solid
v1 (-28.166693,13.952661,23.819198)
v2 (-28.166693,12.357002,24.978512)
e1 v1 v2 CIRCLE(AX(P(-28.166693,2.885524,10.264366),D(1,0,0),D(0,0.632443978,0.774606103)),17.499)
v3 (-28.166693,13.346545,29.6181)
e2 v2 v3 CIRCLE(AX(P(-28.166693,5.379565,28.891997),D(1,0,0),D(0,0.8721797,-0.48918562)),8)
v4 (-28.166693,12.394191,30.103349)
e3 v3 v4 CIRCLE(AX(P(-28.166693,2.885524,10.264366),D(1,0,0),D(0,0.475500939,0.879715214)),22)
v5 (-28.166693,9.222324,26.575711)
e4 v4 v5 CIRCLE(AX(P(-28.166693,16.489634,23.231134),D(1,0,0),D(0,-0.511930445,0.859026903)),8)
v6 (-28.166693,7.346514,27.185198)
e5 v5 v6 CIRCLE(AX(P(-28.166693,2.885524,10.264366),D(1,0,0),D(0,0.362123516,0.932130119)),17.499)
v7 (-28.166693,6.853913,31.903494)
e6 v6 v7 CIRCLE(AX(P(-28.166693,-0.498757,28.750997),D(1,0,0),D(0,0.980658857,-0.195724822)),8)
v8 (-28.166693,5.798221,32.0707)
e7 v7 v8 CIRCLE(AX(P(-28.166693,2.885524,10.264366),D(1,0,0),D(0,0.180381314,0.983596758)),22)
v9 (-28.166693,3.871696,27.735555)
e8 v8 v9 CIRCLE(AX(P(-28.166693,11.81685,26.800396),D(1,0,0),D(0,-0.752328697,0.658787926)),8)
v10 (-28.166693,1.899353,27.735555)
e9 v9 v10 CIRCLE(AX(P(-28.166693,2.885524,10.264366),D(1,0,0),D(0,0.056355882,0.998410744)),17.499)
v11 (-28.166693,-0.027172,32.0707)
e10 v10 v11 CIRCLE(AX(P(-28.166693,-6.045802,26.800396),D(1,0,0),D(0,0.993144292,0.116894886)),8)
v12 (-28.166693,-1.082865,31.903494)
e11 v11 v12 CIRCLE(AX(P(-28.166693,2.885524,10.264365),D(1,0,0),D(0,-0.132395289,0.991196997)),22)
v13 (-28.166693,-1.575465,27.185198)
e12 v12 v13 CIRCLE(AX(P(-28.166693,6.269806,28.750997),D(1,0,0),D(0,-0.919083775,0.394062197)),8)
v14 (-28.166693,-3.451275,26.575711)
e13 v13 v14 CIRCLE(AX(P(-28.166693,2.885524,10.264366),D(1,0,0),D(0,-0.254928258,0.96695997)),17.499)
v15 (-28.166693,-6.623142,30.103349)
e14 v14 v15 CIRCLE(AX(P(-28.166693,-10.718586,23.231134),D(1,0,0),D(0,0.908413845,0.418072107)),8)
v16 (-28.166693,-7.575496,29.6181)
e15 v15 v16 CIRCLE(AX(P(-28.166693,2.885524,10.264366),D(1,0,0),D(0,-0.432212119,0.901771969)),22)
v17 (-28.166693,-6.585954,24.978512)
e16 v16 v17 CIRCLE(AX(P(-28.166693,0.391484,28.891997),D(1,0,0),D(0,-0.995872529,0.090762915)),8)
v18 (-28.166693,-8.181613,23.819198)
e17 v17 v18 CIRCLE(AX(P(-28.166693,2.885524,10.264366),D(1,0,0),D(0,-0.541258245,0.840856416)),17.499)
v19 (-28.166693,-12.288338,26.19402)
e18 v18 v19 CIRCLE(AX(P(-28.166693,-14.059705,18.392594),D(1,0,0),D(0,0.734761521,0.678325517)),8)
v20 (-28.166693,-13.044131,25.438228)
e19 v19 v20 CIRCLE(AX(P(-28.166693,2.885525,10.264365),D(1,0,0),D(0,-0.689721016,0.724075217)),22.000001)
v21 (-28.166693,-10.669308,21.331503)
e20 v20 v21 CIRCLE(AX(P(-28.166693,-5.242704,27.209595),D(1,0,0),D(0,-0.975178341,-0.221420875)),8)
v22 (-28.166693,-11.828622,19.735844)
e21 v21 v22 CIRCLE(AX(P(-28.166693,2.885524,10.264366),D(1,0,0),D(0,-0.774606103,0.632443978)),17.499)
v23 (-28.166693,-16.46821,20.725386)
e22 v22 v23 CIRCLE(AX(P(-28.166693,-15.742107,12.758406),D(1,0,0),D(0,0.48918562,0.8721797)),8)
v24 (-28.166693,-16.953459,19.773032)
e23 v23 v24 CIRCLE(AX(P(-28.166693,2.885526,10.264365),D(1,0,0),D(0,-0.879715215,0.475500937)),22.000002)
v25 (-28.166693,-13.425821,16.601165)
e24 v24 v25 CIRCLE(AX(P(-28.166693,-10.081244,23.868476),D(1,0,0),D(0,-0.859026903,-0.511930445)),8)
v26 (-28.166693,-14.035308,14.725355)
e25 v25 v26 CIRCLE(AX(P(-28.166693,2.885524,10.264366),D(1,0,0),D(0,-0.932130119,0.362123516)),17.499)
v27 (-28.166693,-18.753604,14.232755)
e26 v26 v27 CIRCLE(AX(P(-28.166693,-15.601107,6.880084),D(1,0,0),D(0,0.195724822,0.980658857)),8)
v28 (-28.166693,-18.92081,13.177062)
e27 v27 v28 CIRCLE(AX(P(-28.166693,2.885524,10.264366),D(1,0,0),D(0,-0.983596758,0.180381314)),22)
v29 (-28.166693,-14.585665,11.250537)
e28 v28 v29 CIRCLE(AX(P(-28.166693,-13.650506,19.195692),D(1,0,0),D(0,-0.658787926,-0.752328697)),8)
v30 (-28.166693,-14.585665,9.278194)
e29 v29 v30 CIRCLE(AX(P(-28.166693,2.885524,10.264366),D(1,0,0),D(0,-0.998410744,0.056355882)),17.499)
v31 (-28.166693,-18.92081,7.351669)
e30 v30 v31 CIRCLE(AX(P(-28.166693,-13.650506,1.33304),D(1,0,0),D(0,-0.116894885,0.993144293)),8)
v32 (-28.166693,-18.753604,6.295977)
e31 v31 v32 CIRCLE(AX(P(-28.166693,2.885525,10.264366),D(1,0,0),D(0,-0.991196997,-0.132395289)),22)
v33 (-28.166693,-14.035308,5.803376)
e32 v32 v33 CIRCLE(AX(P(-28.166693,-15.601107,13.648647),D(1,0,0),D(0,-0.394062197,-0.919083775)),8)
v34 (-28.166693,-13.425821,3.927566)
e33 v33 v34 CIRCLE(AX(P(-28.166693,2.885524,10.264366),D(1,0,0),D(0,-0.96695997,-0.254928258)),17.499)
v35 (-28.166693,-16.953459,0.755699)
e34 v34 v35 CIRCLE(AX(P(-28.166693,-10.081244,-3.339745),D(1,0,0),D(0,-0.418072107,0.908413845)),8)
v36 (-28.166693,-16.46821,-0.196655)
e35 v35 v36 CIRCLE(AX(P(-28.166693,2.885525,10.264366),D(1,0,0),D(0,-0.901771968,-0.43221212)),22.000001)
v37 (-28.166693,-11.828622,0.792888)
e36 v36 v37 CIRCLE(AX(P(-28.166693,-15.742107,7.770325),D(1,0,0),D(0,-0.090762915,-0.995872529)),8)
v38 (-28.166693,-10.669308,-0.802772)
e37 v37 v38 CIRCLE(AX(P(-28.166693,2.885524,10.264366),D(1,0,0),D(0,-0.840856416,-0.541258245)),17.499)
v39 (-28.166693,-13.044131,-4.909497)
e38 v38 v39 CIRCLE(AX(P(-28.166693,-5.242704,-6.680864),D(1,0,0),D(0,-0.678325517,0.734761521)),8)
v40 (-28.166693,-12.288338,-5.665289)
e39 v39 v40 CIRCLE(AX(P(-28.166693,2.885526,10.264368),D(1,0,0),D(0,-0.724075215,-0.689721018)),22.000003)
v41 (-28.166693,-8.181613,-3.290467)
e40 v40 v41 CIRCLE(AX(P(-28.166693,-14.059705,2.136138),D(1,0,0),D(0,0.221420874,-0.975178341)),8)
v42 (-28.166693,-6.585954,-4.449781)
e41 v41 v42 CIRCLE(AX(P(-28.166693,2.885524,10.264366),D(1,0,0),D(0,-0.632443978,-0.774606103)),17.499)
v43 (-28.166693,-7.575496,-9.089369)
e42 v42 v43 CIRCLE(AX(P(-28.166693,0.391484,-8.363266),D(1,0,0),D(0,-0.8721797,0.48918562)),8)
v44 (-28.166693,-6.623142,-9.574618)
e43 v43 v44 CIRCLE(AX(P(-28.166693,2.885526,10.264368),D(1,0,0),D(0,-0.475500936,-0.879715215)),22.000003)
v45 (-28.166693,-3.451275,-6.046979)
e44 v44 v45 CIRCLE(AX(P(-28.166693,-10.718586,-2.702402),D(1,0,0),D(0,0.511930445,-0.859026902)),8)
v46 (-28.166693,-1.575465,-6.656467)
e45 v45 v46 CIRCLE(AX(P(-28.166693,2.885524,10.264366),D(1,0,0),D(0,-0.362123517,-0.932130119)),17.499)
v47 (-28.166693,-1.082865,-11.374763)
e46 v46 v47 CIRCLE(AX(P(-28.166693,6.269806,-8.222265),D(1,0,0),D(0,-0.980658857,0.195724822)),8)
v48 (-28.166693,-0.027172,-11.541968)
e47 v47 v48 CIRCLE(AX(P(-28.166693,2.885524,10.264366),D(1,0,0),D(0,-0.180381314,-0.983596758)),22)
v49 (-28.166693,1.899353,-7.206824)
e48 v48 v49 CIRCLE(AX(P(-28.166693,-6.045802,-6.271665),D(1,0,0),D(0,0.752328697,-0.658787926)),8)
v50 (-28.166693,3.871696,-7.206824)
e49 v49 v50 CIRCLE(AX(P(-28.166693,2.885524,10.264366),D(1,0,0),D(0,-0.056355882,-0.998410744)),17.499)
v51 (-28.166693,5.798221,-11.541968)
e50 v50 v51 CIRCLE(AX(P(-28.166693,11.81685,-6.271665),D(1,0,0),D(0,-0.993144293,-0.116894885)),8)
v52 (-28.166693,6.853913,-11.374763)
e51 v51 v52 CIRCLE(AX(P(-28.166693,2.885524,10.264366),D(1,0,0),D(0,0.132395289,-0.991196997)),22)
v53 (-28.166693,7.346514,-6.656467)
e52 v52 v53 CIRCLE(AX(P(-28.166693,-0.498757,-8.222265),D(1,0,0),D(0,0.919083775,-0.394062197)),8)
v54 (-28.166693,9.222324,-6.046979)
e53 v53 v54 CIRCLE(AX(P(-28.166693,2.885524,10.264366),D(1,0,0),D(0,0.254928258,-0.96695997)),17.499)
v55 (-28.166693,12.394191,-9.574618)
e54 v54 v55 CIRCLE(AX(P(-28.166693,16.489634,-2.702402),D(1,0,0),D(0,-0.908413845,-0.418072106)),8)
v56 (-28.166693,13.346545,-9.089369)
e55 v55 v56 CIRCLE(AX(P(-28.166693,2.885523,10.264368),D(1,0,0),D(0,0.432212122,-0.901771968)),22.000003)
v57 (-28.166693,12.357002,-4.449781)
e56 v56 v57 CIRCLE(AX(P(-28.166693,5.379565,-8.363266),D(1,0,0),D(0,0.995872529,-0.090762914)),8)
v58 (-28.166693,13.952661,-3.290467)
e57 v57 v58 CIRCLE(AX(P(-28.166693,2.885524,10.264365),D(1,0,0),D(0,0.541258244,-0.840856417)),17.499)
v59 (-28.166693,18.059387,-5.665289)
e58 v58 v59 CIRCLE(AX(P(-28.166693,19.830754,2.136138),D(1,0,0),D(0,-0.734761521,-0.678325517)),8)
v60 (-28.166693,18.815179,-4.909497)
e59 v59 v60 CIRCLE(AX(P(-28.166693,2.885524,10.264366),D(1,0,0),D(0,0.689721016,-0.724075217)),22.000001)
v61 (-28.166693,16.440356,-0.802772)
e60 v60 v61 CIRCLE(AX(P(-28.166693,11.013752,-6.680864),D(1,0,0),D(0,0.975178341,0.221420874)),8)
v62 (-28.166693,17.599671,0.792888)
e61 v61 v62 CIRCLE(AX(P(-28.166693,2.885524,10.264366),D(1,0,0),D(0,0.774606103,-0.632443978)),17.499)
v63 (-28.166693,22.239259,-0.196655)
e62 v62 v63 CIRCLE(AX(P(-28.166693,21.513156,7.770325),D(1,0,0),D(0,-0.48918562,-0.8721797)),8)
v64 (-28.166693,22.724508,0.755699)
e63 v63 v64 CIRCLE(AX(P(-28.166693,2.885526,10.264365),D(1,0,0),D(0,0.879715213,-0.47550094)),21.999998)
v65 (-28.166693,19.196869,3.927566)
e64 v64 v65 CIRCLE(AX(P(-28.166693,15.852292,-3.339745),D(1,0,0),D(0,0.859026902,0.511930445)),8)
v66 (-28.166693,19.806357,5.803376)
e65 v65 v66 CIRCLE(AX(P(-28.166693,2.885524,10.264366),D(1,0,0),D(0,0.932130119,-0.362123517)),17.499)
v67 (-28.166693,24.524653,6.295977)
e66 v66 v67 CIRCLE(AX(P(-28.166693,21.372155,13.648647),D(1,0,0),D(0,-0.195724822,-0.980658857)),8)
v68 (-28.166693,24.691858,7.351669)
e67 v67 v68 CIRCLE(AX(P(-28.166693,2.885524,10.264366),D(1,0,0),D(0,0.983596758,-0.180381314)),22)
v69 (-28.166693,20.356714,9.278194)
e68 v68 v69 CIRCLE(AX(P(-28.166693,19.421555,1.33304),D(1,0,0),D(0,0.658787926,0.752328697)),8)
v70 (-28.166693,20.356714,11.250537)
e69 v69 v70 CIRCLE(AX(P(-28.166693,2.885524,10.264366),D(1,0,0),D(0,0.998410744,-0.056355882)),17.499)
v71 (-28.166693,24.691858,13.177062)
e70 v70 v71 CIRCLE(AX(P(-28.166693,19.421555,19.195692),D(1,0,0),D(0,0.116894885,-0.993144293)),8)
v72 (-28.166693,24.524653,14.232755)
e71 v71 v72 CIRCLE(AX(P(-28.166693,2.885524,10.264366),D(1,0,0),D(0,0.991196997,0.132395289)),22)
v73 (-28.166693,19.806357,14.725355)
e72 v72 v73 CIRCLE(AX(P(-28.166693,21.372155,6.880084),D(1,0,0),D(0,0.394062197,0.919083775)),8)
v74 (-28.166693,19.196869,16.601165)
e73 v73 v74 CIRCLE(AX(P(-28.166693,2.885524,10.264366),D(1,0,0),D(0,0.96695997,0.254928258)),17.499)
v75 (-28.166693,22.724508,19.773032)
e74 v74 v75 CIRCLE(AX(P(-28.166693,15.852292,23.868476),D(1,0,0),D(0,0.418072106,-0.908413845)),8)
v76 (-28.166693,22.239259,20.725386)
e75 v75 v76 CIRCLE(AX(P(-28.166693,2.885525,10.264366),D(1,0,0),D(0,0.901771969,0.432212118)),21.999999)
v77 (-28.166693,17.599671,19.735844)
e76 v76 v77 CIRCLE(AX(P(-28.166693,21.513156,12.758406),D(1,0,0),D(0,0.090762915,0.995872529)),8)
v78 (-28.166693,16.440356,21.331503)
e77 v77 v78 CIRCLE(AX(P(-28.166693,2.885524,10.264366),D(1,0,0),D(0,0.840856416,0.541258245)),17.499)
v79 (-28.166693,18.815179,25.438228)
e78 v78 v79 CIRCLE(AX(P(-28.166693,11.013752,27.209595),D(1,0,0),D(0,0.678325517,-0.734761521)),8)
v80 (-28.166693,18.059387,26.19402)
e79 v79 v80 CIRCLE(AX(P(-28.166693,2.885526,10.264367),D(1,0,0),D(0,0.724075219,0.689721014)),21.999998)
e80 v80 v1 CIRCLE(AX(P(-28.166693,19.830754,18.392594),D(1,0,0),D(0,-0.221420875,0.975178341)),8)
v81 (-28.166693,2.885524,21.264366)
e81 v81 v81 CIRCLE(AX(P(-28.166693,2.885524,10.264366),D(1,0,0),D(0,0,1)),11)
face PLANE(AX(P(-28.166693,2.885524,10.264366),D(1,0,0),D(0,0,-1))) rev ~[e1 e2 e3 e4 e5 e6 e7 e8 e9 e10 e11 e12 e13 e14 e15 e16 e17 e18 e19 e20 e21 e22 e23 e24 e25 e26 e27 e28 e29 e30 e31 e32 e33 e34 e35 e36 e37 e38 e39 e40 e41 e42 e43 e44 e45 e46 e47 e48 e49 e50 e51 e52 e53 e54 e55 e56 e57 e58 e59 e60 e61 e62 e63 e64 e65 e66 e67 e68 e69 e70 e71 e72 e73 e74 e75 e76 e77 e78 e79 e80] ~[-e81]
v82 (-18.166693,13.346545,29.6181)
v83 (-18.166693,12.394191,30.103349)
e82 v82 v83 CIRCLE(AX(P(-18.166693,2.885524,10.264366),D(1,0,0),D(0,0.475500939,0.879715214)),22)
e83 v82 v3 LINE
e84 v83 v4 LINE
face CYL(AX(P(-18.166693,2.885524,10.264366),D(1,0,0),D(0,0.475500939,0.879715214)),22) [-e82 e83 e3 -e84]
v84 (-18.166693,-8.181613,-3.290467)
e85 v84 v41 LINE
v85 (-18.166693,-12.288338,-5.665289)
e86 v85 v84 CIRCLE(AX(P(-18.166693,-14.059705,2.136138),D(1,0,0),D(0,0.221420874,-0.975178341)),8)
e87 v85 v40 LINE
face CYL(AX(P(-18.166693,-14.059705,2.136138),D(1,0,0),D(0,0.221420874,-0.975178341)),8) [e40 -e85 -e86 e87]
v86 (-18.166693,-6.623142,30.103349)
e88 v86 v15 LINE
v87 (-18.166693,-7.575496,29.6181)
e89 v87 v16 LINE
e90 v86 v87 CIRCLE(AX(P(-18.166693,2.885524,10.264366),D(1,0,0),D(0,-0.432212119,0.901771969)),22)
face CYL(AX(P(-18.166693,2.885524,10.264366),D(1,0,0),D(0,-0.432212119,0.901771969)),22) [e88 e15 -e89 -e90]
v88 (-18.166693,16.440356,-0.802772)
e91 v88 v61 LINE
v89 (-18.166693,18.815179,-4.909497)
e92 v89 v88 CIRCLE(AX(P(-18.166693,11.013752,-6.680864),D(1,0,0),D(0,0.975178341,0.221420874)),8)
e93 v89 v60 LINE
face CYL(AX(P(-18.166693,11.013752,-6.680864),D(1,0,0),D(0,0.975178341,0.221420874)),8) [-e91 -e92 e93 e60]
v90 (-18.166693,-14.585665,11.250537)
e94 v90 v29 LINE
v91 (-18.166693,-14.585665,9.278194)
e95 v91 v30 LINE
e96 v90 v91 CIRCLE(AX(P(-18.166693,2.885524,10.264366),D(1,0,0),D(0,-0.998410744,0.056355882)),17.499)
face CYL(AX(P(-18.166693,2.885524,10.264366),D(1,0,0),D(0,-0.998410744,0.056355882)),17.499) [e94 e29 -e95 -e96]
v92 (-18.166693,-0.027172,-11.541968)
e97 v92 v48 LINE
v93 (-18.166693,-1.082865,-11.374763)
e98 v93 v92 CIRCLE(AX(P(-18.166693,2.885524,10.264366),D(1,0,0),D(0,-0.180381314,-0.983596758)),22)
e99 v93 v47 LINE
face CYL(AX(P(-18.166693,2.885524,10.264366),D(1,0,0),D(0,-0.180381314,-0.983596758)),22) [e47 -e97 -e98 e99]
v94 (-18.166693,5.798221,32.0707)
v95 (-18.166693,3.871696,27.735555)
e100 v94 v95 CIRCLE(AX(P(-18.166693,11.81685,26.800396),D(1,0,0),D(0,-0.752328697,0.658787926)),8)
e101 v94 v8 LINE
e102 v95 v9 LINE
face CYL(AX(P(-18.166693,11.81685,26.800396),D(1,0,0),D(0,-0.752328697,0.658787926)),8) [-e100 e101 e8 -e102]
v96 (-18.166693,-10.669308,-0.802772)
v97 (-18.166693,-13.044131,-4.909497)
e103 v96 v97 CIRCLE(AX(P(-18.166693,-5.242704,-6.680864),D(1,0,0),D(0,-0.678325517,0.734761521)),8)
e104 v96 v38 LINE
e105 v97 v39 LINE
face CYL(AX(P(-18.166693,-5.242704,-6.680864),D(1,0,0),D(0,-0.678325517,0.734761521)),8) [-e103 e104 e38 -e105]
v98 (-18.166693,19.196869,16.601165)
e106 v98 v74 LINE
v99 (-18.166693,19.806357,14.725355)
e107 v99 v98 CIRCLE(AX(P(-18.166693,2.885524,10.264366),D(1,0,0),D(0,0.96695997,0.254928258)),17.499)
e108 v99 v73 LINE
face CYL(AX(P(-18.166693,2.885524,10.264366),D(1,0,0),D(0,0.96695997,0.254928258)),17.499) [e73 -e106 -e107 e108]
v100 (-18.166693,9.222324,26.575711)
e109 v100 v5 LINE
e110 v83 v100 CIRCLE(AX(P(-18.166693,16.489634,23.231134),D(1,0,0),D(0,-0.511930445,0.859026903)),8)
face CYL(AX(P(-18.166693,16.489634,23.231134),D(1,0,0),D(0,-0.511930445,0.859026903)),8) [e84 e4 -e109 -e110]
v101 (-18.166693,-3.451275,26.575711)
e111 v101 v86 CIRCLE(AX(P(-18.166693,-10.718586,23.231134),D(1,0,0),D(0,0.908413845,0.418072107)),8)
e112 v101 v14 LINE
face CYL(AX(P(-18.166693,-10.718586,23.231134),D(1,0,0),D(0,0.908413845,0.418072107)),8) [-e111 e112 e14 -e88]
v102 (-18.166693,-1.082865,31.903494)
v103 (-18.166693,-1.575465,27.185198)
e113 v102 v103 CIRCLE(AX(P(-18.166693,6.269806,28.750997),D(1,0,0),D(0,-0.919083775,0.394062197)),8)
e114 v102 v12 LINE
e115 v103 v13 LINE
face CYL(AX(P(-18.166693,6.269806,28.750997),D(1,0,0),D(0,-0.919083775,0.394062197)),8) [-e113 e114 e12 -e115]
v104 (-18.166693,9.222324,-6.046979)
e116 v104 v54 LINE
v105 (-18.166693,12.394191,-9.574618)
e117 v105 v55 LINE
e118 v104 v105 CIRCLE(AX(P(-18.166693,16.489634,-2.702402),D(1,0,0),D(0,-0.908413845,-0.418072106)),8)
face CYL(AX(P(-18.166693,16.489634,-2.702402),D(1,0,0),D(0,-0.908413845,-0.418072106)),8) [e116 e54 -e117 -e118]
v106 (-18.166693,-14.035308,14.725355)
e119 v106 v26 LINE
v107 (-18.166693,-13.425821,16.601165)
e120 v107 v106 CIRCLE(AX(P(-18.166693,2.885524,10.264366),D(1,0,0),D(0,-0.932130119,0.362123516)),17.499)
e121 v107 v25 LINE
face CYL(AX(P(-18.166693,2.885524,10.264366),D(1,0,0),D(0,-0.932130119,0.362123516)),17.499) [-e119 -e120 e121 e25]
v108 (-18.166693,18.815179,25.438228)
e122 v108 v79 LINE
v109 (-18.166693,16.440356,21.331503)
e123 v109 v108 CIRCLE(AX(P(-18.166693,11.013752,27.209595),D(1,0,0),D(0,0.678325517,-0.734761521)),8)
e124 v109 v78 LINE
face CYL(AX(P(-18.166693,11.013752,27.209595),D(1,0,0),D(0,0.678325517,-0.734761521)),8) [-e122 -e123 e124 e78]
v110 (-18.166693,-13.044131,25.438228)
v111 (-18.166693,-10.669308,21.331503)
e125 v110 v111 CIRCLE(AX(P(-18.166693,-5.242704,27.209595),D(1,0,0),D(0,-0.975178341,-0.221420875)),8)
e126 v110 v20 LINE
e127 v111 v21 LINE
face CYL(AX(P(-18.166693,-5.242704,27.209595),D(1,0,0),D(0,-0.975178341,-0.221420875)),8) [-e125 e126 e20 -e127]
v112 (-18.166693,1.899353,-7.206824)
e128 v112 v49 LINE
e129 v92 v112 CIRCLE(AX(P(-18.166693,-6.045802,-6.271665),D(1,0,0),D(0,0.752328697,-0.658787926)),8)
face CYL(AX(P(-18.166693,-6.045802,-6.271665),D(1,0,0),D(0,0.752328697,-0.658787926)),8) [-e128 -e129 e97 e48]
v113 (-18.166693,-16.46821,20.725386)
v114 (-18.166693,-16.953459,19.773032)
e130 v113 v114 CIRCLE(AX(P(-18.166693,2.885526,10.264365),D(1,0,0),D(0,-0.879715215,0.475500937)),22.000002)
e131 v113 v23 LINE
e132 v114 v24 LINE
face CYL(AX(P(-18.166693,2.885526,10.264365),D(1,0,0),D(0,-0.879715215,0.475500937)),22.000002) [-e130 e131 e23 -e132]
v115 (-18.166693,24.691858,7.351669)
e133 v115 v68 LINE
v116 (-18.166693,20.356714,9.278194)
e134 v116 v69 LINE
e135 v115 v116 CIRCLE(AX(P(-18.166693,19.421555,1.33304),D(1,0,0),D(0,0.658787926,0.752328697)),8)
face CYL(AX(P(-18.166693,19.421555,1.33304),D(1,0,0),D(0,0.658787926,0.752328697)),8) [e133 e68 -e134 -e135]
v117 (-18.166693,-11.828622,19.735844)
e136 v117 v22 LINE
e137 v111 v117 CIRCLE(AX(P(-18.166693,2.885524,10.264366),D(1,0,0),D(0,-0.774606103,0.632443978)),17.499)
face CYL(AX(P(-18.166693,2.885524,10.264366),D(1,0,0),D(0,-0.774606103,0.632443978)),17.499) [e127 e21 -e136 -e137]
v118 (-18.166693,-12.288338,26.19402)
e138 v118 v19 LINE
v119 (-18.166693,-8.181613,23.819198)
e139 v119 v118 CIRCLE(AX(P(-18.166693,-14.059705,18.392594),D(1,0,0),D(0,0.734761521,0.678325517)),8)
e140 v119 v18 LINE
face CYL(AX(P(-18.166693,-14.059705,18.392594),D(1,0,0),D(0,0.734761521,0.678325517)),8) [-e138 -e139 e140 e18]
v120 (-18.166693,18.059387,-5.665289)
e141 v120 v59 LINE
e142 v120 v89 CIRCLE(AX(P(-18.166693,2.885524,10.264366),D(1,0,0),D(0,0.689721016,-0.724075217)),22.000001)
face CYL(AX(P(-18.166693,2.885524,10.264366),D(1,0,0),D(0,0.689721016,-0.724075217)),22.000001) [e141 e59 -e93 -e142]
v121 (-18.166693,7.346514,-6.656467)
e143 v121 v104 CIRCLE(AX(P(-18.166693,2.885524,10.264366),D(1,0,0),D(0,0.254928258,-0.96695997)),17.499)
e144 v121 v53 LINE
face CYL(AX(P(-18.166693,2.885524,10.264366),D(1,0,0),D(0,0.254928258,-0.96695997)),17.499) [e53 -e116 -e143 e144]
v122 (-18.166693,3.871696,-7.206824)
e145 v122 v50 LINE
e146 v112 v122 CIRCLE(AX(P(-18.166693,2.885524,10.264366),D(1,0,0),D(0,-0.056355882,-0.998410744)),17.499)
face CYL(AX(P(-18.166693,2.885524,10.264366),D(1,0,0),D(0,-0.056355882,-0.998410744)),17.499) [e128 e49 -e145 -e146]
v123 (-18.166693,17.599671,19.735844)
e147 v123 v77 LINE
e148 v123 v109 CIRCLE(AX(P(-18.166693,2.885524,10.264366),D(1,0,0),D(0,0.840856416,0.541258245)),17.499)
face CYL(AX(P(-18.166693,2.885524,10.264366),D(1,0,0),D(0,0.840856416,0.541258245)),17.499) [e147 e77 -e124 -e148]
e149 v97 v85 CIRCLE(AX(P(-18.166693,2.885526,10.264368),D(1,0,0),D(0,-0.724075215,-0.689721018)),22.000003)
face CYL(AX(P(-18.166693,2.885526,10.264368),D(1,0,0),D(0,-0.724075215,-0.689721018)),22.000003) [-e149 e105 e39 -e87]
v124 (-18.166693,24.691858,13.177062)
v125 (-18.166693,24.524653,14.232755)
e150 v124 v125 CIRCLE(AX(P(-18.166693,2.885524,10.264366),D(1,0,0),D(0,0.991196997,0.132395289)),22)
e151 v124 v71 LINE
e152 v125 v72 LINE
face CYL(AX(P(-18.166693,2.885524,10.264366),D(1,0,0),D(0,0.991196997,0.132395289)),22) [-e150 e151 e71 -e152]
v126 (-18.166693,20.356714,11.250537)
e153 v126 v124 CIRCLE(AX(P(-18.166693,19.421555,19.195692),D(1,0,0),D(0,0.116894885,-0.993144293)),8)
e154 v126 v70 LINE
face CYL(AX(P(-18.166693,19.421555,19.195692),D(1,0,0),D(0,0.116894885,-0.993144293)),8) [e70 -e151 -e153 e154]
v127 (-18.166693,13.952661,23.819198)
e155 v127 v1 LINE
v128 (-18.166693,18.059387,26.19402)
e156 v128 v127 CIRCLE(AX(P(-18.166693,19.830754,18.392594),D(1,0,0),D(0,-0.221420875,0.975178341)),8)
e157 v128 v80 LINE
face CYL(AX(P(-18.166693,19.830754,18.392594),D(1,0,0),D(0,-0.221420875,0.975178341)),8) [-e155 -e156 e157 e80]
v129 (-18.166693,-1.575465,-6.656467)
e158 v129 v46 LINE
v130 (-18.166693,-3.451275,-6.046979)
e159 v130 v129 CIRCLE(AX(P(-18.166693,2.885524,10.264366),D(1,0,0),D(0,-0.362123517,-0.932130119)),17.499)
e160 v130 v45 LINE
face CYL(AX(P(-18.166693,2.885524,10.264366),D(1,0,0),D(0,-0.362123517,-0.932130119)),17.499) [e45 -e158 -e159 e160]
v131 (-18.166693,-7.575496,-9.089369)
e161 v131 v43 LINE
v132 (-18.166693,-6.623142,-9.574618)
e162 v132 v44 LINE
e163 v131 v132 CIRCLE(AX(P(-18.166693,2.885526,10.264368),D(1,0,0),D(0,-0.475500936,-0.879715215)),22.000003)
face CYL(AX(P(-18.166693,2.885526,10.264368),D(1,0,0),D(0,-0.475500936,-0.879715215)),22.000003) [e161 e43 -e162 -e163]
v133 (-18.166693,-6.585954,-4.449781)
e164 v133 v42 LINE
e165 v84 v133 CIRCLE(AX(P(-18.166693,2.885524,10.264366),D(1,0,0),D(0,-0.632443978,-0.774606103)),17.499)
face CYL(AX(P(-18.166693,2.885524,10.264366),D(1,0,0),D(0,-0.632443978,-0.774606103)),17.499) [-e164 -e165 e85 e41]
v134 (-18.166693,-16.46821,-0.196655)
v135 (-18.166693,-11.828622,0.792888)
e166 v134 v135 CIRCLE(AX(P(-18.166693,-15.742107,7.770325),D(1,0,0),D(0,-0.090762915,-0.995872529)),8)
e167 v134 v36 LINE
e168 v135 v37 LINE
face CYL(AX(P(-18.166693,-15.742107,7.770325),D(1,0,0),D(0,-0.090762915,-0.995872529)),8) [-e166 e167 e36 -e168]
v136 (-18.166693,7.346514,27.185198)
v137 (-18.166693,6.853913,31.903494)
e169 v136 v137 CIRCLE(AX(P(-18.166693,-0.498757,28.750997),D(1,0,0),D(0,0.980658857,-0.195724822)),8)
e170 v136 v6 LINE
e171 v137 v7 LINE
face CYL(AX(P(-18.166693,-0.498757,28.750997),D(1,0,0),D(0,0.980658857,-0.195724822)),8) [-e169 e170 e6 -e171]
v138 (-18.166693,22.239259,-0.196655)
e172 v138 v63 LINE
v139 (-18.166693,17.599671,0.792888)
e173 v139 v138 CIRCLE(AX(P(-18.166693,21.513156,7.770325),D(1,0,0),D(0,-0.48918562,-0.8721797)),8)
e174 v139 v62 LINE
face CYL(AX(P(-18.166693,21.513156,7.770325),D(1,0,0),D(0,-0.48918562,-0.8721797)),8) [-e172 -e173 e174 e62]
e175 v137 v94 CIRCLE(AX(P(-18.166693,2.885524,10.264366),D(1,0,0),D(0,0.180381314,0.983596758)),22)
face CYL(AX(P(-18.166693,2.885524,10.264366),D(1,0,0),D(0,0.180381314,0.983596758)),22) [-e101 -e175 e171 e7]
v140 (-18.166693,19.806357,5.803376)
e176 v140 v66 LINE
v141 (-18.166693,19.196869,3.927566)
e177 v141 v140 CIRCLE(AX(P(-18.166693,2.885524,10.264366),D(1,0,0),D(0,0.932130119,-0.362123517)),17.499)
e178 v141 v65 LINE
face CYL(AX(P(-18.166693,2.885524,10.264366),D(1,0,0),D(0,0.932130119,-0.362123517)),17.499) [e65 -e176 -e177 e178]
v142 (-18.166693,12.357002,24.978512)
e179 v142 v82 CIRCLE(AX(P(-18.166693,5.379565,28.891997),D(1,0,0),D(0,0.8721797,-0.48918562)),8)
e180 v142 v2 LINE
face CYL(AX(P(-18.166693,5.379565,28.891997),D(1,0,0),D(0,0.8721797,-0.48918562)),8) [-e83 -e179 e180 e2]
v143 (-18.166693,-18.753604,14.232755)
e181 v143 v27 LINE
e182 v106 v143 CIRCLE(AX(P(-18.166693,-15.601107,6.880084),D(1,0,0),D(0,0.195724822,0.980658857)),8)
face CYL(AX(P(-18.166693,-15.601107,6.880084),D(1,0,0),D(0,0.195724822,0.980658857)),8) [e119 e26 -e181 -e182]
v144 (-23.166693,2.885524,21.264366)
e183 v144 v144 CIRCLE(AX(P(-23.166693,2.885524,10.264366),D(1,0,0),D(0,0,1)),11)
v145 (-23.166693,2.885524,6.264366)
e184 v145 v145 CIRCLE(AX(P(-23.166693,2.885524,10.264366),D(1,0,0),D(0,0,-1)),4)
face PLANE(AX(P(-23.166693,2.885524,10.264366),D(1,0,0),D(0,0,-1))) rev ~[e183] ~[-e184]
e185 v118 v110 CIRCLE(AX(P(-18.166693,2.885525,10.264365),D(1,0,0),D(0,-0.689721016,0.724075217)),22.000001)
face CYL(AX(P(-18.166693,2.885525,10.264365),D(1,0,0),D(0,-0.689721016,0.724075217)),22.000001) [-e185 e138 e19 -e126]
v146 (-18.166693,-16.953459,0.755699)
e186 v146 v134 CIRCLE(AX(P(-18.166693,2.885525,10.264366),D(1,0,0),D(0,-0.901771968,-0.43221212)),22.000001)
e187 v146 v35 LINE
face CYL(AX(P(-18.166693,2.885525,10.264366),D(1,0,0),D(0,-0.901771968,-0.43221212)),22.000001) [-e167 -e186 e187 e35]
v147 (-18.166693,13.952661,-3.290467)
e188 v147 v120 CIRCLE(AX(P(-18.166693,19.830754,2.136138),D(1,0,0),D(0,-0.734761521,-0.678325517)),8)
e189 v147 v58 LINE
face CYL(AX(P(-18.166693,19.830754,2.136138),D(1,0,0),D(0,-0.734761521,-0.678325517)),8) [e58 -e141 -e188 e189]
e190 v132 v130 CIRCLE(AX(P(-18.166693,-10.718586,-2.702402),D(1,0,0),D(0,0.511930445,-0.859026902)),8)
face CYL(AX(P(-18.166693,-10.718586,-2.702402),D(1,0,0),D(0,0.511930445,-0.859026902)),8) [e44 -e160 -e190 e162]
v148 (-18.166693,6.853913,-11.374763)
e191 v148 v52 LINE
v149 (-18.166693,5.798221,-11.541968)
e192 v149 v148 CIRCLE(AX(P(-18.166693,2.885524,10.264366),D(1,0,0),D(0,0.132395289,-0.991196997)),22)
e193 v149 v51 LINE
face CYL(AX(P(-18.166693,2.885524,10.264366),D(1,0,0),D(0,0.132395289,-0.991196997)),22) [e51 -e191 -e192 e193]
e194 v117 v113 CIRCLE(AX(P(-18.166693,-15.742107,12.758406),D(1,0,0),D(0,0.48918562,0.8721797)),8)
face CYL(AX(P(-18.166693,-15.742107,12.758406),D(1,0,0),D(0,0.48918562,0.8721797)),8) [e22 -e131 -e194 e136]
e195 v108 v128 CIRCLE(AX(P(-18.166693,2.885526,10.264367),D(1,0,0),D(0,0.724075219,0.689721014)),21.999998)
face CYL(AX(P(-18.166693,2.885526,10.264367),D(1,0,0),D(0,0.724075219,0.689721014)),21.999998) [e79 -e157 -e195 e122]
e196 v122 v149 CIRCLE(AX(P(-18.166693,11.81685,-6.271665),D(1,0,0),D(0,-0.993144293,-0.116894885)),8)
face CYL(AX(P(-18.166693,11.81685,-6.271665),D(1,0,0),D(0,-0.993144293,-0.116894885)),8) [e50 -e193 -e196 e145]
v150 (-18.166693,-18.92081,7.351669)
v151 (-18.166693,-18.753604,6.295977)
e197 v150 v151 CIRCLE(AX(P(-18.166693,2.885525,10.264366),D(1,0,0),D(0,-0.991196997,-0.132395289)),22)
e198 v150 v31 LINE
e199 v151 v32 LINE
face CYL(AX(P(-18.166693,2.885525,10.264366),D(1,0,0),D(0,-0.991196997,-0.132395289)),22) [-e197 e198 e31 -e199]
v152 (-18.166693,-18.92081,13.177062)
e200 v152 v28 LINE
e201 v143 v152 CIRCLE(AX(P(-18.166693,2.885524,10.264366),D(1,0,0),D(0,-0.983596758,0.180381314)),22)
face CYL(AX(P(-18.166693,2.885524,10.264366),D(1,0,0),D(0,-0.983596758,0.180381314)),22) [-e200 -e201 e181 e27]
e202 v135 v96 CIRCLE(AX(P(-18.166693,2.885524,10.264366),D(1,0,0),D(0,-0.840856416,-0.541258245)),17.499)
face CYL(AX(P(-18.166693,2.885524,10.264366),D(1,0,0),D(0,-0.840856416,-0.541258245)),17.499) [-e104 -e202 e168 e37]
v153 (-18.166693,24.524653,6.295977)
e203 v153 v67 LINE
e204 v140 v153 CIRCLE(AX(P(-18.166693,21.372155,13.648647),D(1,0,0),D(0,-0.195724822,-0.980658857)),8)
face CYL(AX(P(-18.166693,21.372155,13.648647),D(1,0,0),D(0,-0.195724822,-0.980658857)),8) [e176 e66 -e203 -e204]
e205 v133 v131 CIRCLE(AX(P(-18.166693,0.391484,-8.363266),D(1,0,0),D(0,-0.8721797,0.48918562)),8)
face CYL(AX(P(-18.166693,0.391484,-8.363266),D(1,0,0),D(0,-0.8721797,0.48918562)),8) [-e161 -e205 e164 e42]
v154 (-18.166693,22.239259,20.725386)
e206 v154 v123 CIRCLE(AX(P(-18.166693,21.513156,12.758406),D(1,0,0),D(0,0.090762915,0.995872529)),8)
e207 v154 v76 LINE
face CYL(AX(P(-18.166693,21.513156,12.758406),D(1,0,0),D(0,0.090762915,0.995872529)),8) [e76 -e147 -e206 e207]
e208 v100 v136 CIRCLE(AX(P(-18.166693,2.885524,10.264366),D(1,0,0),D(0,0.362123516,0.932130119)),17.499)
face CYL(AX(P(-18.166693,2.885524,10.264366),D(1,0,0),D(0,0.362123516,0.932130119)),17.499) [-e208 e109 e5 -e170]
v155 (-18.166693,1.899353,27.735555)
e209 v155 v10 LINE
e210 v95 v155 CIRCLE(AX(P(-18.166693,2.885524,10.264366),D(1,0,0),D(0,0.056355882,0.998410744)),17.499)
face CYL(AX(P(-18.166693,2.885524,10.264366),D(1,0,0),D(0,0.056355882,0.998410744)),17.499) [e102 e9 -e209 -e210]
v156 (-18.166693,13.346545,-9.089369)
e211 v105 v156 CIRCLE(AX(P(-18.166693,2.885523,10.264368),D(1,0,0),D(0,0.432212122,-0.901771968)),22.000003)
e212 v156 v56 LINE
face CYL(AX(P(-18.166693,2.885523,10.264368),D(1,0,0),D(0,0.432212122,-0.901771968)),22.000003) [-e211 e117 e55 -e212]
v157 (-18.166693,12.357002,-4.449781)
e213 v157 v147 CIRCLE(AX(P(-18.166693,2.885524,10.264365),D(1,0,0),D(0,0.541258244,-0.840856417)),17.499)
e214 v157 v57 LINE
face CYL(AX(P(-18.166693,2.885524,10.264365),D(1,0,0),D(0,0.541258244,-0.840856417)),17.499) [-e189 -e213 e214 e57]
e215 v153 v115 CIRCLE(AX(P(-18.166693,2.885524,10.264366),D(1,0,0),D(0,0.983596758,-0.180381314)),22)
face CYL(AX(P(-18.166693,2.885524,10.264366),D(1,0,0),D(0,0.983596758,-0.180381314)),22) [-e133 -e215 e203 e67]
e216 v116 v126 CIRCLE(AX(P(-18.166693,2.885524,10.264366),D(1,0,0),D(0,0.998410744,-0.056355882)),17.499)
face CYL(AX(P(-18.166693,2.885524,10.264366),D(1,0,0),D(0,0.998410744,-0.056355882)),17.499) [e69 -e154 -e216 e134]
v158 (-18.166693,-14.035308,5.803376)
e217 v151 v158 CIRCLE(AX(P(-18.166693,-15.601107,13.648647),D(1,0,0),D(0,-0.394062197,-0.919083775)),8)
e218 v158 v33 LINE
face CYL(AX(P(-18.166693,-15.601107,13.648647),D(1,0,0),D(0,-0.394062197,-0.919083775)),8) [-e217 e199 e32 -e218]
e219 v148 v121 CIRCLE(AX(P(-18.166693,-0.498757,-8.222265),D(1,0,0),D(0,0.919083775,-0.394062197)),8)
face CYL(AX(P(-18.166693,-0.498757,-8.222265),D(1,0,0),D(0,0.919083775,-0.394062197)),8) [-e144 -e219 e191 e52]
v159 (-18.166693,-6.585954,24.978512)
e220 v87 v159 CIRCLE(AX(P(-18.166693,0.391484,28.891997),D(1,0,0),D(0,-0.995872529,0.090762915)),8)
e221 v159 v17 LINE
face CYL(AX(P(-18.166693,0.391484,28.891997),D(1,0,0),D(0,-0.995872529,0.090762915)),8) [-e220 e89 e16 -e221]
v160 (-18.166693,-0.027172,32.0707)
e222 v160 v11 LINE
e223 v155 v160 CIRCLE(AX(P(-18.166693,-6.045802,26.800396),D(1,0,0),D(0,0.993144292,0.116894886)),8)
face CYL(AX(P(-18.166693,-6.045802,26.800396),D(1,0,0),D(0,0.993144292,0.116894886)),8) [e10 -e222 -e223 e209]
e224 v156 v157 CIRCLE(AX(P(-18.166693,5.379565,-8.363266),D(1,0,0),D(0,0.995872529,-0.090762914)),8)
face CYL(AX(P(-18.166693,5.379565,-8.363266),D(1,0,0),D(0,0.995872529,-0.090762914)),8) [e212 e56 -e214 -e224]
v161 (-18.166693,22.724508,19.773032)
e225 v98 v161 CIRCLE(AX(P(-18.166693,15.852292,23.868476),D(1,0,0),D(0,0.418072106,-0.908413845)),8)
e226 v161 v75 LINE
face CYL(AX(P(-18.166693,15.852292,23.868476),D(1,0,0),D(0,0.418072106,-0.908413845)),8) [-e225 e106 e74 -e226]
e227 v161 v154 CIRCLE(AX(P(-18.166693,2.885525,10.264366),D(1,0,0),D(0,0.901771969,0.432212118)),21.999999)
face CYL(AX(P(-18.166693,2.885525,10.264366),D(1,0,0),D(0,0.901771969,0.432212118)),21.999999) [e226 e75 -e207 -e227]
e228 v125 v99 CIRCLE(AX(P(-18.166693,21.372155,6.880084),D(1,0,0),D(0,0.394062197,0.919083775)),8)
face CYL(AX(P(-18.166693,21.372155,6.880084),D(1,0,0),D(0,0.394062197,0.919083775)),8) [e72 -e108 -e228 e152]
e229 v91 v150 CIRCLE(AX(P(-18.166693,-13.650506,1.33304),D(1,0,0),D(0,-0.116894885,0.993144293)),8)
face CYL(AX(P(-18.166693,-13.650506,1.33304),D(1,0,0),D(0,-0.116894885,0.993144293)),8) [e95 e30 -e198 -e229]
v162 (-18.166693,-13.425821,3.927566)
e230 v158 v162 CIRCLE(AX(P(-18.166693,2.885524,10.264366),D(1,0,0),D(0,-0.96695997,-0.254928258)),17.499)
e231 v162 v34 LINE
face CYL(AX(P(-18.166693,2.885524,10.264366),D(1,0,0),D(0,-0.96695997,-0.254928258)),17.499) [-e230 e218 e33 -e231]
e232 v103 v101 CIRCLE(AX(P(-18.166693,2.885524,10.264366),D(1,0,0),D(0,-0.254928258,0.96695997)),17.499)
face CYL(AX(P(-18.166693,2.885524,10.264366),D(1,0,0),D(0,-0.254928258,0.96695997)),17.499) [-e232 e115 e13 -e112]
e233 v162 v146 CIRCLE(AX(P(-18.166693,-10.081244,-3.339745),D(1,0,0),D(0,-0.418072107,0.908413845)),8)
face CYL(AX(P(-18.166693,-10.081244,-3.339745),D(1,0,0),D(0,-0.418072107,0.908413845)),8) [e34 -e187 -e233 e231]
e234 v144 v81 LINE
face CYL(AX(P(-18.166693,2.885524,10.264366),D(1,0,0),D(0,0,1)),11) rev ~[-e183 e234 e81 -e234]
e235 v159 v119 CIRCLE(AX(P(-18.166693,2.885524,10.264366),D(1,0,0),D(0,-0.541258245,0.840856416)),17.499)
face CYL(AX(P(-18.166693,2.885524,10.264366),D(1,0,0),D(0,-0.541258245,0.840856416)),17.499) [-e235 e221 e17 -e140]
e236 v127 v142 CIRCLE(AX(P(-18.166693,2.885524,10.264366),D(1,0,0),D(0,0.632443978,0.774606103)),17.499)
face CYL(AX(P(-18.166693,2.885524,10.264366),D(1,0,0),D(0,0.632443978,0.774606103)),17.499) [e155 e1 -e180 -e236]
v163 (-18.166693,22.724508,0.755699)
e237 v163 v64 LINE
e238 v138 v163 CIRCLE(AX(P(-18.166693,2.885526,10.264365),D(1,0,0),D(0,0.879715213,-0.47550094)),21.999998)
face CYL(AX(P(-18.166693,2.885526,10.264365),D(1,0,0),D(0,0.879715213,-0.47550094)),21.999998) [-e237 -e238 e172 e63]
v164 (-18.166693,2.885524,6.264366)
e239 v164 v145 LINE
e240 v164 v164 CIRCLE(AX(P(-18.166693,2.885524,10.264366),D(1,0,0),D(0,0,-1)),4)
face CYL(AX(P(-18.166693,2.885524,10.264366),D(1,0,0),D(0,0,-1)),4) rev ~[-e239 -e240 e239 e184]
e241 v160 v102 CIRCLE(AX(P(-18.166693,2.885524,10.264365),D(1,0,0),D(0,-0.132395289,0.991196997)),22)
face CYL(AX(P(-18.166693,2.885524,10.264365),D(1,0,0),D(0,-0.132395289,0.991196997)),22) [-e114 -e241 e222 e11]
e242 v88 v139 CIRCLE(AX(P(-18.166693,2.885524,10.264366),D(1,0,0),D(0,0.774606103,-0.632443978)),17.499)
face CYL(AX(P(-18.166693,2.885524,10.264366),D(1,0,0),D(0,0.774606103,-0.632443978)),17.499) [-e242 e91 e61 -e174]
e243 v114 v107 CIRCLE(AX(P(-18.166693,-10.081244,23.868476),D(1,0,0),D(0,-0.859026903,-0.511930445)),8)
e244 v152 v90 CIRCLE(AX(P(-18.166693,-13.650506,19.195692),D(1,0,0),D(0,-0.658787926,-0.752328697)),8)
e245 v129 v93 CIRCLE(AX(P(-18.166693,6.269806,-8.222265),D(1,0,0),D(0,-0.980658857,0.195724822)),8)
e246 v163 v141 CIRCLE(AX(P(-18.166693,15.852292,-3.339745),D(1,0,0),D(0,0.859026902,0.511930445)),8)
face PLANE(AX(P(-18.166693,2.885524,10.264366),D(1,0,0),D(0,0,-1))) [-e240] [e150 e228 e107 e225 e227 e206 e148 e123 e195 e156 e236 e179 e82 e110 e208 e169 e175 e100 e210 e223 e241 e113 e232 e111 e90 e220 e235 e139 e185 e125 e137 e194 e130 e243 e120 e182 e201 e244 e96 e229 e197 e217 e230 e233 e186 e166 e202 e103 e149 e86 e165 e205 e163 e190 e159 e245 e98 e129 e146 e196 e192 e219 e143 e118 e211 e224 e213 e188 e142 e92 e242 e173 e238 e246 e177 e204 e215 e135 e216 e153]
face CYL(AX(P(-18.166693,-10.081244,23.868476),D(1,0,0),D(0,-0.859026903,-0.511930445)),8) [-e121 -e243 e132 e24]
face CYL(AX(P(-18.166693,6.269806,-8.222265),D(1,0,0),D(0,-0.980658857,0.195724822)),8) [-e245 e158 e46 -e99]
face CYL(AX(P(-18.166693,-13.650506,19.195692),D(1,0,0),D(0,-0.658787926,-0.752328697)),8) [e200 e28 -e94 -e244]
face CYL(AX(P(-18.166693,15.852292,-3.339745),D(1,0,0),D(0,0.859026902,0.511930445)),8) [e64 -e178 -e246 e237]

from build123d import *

# Parameters (mm, degrees)
SKETCH1_R           = 11
BOSS_EXTRUDE1_DEPTH = 10
SKETCH2_R           = 11
BOSS_EXTRUDE2_DEPTH = 5
SKETCH3_R           = 4
CUT_EXTRUDE1_DEPTH  = 5


with BuildPart() as part:
    # Sketch1 → Boss-Extrude1 (new body)
    with BuildSketch(Plane(origin=(-18.166693136, 0, 0), x_dir=(0, 0, -1), z_dir=(1, 0, 0))):
        with BuildLine():
            ThreePointArc((-32.070699567, 5.798220619), (-30.049213728, 4.506228855), (-27.735555242, 3.871695857))
            ThreePointArc((-27.735555242, 3.871695857), (-27.763365626, 2.885524266), (-27.735555242, 1.899352675))
            ThreePointArc((-27.735555242, 1.899352675), (-30.049213728, 1.264819676), (-32.070699567, -0.027172088))
            ThreePointArc((-32.070699567, -0.027172088), (-31.993509119, -0.556033965), (-31.90349429, -1.08286466))
            ThreePointArc((-31.90349429, -1.08286466), (-29.581699598, -1.686948368), (-27.185198138, -1.575465319))
            ThreePointArc((-27.185198138, -1.575465319), (-26.906903604, -2.521964119), (-26.575710576, -3.451275156))
            ThreePointArc((-26.575710576, -3.451275156), (-28.580049076, -4.76971169), (-30.103348944, -6.623142354))
            ThreePointArc((-30.103348944, -6.623142354), (-29.866509158, -7.102266728), (-29.61810033, -7.575496382))
            ThreePointArc((-29.61810033, -7.575496382), (-27.223270227, -7.432540112), (-24.978512054, -6.585953754))
            ThreePointArc((-24.978512054, -6.585953754), (-24.42135401, -7.400129864), (-23.819197819, -8.181612907))
            ThreePointArc((-23.819197819, -8.181612907), (-25.318017715, -10.054895223), (-26.194020408, -12.288338081))
            ThreePointArc((-26.194020408, -12.288338081), (-25.820714812, -12.67082492), (-25.438227972, -13.044130517))
            ThreePointArc((-25.438227972, -13.044130517), (-23.204785115, -12.168127824), (-21.331502799, -10.669307928))
            ThreePointArc((-21.331502799, -10.669307928), (-20.550019756, -11.271464119), (-19.735843645, -11.828622163))
            ThreePointArc((-19.735843645, -11.828622163), (-20.582430003, -14.073380336), (-20.725386273, -16.468210439))
            ThreePointArc((-20.725386273, -16.468210439), (-20.25215662, -16.716619266), (-19.773032246, -16.953459053))
            ThreePointArc((-19.773032246, -16.953459053), (-17.919601581, -15.430159185), (-16.601165047, -13.425820685))
            ThreePointArc((-16.601165047, -13.425820685), (-15.67185401, -13.757013713), (-14.725355211, -14.035308247))
            ThreePointArc((-14.725355211, -14.035308247), (-14.83683826, -16.431809706), (-14.232754552, -18.753604398))
            ThreePointArc((-14.232754552, -18.753604398), (-13.705923857, -18.843619227), (-13.177061979, -18.920809675))
            ThreePointArc((-13.177061979, -18.920809675), (-11.885070215, -16.899323836), (-11.250537217, -14.58566535))
            ThreePointArc((-11.250537217, -14.58566535), (-10.264365626, -14.613475734), (-9.278194034, -14.58566535))
            ThreePointArc((-9.278194034, -14.58566535), (-8.643661036, -16.899323836), (-7.351669272, -18.920809675))
            ThreePointArc((-7.351669272, -18.920809675), (-6.822807395, -18.843619227), (-6.2959767, -18.753604398))
            ThreePointArc((-6.2959767, -18.753604398), (-5.691892992, -16.431809706), (-5.803376041, -14.035308247))
            ThreePointArc((-5.803376041, -14.035308247), (-4.856877241, -13.757013713), (-3.927566204, -13.425820685))
            ThreePointArc((-3.927566204, -13.425820685), (-2.60912967, -15.430159185), (-0.755699006, -16.953459053))
            ThreePointArc((-0.755699006, -16.953459053), (-0.276574631, -16.716619266), (0.196655022, -16.468210439))
            ThreePointArc((0.196655022, -16.468210439), (0.053698752, -14.073380336), (-0.792887606, -11.828622163))
            ThreePointArc((-0.792887606, -11.828622163), (0.021288504, -11.271464119), (0.802771547, -10.669307928))
            ThreePointArc((0.802771547, -10.669307928), (2.676053863, -12.168127824), (4.909496721, -13.044130517))
            ThreePointArc((4.909496721, -13.044130517), (5.29198356, -12.67082492), (5.665289157, -12.288338081))
            ThreePointArc((5.665289157, -12.288338081), (4.789286464, -10.054895223), (3.290466568, -8.181612907))
            ThreePointArc((3.290466568, -8.181612907), (3.892622759, -7.400129864), (4.449780803, -6.585953754))
            ThreePointArc((4.449780803, -6.585953754), (6.694538976, -7.432540112), (9.089369079, -7.575496382))
            ThreePointArc((9.089369079, -7.575496382), (9.337777906, -7.102266728), (9.574617693, -6.623142354))
            ThreePointArc((9.574617693, -6.623142354), (8.051317825, -4.76971169), (6.046979325, -3.451275156))
            ThreePointArc((6.046979325, -3.451275156), (6.378172353, -2.521964119), (6.656466887, -1.575465319))
            ThreePointArc((6.656466887, -1.575465319), (9.052968347, -1.686948368), (11.374763038, -1.08286466))
            ThreePointArc((11.374763038, -1.08286466), (11.464777867, -0.556033965), (11.541968315, -0.027172088))
            ThreePointArc((11.541968315, -0.027172088), (9.520482476, 1.264819676), (7.20682399, 1.899352675))
            ThreePointArc((7.20682399, 1.899352675), (7.234634374, 2.885524266), (7.20682399, 3.871695857))
            ThreePointArc((7.20682399, 3.871695857), (9.520482476, 4.506228855), (11.541968315, 5.798220619))
            ThreePointArc((11.541968315, 5.798220619), (11.464777867, 6.327082497), (11.374763038, 6.853913192))
            ThreePointArc((11.374763038, 6.853913192), (9.052968347, 7.4579969), (6.656466887, 7.346513851))
            ThreePointArc((6.656466887, 7.346513851), (6.378172353, 8.29301265), (6.046979325, 9.222323687))
            ThreePointArc((6.046979325, 9.222323687), (8.051317825, 10.540760221), (9.574617693, 12.394190886))
            ThreePointArc((9.574617693, 12.394190886), (9.337777906, 12.87331526), (9.089369079, 13.346544914))
            ThreePointArc((9.089369079, 13.346544914), (6.694538976, 13.203588643), (4.449780803, 12.357002285))
            ThreePointArc((4.449780803, 12.357002285), (3.892622759, 13.171178396), (3.290466568, 13.952661439))
            ThreePointArc((3.290466568, 13.952661439), (4.789286464, 15.825943755), (5.665289157, 18.059386612))
            ThreePointArc((5.665289157, 18.059386612), (5.29198356, 18.441873452), (4.909496721, 18.815179048))
            ThreePointArc((4.909496721, 18.815179048), (2.676053863, 17.939176356), (0.802771547, 16.440356459))
            ThreePointArc((0.802771547, 16.440356459), (0.021288504, 17.04251265), (-0.792887606, 17.599670695))
            ThreePointArc((-0.792887606, 17.599670695), (0.053698752, 19.844428867), (0.196655022, 22.23925897))
            ThreePointArc((0.196655022, 22.23925897), (-0.276574631, 22.487667798), (-0.755699006, 22.724507584))
            ThreePointArc((-0.755699006, 22.724507584), (-2.60912967, 21.201207716), (-3.927566204, 19.196869216))
            ThreePointArc((-3.927566204, 19.196869216), (-4.856877241, 19.528062244), (-5.803376041, 19.806356778))
            ThreePointArc((-5.803376041, 19.806356778), (-5.691892992, 22.202858238), (-6.2959767, 24.52465293))
            ThreePointArc((-6.2959767, 24.52465293), (-6.822807395, 24.614667759), (-7.351669272, 24.691858207))
            ThreePointArc((-7.351669272, 24.691858207), (-8.643661036, 22.670372368), (-9.278194034, 20.356713882))
            ThreePointArc((-9.278194034, 20.356713882), (-10.264365626, 20.384524266), (-11.250537217, 20.356713882))
            ThreePointArc((-11.250537217, 20.356713882), (-11.885070215, 22.670372368), (-13.177061979, 24.691858207))
            ThreePointArc((-13.177061979, 24.691858207), (-13.705923857, 24.614667759), (-14.232754552, 24.52465293))
            ThreePointArc((-14.232754552, 24.52465293), (-14.83683826, 22.202858238), (-14.725355211, 19.806356778))
            ThreePointArc((-14.725355211, 19.806356778), (-15.67185401, 19.528062244), (-16.601165047, 19.196869216))
            ThreePointArc((-16.601165047, 19.196869216), (-17.919601581, 21.201207716), (-19.773032246, 22.724507584))
            ThreePointArc((-19.773032246, 22.724507584), (-20.25215662, 22.487667798), (-20.725386273, 22.23925897))
            ThreePointArc((-20.725386273, 22.23925897), (-20.582430003, 19.844428867), (-19.735843645, 17.599670695))
            ThreePointArc((-19.735843645, 17.599670695), (-20.550019756, 17.04251265), (-21.331502799, 16.440356459))
            ThreePointArc((-21.331502799, 16.440356459), (-23.204785115, 17.939176356), (-25.438227972, 18.815179048))
            ThreePointArc((-25.438227972, 18.815179048), (-25.820714812, 18.441873452), (-26.194020408, 18.059386612))
            ThreePointArc((-26.194020408, 18.059386612), (-25.318017715, 15.825943755), (-23.819197819, 13.952661439))
            ThreePointArc((-23.819197819, 13.952661439), (-24.42135401, 13.171178396), (-24.978512054, 12.357002285))
            ThreePointArc((-24.978512054, 12.357002285), (-27.223270227, 13.203588643), (-29.61810033, 13.346544914))
            ThreePointArc((-29.61810033, 13.346544914), (-29.866509158, 12.87331526), (-30.103348944, 12.394190886))
            ThreePointArc((-30.103348944, 12.394190886), (-28.580049076, 10.540760221), (-26.575710576, 9.222323687))
            ThreePointArc((-26.575710576, 9.222323687), (-26.906903604, 8.29301265), (-27.185198138, 7.346513851))
            ThreePointArc((-27.185198138, 7.346513851), (-29.581699598, 7.4579969), (-31.90349429, 6.853913192))
            ThreePointArc((-31.90349429, 6.853913192), (-31.993509119, 6.327082497), (-32.070699567, 5.798220619))
        make_face()
        with Locations(Location((-10.264365626, 2.885524266, 0), (0, 0, 180))):
            Circle(SKETCH1_R, mode=Mode.SUBTRACT)
    extrude(amount=-BOSS_EXTRUDE1_DEPTH)

    # Sketch2 → Boss-Extrude2 (add)
    with BuildSketch(Plane(origin=(-18.166693136, 0, 0), x_dir=(0, 0, -1), z_dir=(1, 0, 0))):
        with Locations((-10.264365626, 2.885524266)):
            Circle(SKETCH2_R)
    extrude(amount=-BOSS_EXTRUDE2_DEPTH)

    # Sketch3 → Cut-Extrude1 (cut)
    with BuildSketch(Plane(origin=(-18.166693136, 0, 0), x_dir=(0, 0, -1), z_dir=(1, 0, 0))):
        with Locations((-10.264365626, 2.885524266)):
            Circle(SKETCH3_R)
    extrude(amount=-CUT_EXTRUDE1_DEPTH, mode=Mode.SUBTRACT)


solid = part.part
